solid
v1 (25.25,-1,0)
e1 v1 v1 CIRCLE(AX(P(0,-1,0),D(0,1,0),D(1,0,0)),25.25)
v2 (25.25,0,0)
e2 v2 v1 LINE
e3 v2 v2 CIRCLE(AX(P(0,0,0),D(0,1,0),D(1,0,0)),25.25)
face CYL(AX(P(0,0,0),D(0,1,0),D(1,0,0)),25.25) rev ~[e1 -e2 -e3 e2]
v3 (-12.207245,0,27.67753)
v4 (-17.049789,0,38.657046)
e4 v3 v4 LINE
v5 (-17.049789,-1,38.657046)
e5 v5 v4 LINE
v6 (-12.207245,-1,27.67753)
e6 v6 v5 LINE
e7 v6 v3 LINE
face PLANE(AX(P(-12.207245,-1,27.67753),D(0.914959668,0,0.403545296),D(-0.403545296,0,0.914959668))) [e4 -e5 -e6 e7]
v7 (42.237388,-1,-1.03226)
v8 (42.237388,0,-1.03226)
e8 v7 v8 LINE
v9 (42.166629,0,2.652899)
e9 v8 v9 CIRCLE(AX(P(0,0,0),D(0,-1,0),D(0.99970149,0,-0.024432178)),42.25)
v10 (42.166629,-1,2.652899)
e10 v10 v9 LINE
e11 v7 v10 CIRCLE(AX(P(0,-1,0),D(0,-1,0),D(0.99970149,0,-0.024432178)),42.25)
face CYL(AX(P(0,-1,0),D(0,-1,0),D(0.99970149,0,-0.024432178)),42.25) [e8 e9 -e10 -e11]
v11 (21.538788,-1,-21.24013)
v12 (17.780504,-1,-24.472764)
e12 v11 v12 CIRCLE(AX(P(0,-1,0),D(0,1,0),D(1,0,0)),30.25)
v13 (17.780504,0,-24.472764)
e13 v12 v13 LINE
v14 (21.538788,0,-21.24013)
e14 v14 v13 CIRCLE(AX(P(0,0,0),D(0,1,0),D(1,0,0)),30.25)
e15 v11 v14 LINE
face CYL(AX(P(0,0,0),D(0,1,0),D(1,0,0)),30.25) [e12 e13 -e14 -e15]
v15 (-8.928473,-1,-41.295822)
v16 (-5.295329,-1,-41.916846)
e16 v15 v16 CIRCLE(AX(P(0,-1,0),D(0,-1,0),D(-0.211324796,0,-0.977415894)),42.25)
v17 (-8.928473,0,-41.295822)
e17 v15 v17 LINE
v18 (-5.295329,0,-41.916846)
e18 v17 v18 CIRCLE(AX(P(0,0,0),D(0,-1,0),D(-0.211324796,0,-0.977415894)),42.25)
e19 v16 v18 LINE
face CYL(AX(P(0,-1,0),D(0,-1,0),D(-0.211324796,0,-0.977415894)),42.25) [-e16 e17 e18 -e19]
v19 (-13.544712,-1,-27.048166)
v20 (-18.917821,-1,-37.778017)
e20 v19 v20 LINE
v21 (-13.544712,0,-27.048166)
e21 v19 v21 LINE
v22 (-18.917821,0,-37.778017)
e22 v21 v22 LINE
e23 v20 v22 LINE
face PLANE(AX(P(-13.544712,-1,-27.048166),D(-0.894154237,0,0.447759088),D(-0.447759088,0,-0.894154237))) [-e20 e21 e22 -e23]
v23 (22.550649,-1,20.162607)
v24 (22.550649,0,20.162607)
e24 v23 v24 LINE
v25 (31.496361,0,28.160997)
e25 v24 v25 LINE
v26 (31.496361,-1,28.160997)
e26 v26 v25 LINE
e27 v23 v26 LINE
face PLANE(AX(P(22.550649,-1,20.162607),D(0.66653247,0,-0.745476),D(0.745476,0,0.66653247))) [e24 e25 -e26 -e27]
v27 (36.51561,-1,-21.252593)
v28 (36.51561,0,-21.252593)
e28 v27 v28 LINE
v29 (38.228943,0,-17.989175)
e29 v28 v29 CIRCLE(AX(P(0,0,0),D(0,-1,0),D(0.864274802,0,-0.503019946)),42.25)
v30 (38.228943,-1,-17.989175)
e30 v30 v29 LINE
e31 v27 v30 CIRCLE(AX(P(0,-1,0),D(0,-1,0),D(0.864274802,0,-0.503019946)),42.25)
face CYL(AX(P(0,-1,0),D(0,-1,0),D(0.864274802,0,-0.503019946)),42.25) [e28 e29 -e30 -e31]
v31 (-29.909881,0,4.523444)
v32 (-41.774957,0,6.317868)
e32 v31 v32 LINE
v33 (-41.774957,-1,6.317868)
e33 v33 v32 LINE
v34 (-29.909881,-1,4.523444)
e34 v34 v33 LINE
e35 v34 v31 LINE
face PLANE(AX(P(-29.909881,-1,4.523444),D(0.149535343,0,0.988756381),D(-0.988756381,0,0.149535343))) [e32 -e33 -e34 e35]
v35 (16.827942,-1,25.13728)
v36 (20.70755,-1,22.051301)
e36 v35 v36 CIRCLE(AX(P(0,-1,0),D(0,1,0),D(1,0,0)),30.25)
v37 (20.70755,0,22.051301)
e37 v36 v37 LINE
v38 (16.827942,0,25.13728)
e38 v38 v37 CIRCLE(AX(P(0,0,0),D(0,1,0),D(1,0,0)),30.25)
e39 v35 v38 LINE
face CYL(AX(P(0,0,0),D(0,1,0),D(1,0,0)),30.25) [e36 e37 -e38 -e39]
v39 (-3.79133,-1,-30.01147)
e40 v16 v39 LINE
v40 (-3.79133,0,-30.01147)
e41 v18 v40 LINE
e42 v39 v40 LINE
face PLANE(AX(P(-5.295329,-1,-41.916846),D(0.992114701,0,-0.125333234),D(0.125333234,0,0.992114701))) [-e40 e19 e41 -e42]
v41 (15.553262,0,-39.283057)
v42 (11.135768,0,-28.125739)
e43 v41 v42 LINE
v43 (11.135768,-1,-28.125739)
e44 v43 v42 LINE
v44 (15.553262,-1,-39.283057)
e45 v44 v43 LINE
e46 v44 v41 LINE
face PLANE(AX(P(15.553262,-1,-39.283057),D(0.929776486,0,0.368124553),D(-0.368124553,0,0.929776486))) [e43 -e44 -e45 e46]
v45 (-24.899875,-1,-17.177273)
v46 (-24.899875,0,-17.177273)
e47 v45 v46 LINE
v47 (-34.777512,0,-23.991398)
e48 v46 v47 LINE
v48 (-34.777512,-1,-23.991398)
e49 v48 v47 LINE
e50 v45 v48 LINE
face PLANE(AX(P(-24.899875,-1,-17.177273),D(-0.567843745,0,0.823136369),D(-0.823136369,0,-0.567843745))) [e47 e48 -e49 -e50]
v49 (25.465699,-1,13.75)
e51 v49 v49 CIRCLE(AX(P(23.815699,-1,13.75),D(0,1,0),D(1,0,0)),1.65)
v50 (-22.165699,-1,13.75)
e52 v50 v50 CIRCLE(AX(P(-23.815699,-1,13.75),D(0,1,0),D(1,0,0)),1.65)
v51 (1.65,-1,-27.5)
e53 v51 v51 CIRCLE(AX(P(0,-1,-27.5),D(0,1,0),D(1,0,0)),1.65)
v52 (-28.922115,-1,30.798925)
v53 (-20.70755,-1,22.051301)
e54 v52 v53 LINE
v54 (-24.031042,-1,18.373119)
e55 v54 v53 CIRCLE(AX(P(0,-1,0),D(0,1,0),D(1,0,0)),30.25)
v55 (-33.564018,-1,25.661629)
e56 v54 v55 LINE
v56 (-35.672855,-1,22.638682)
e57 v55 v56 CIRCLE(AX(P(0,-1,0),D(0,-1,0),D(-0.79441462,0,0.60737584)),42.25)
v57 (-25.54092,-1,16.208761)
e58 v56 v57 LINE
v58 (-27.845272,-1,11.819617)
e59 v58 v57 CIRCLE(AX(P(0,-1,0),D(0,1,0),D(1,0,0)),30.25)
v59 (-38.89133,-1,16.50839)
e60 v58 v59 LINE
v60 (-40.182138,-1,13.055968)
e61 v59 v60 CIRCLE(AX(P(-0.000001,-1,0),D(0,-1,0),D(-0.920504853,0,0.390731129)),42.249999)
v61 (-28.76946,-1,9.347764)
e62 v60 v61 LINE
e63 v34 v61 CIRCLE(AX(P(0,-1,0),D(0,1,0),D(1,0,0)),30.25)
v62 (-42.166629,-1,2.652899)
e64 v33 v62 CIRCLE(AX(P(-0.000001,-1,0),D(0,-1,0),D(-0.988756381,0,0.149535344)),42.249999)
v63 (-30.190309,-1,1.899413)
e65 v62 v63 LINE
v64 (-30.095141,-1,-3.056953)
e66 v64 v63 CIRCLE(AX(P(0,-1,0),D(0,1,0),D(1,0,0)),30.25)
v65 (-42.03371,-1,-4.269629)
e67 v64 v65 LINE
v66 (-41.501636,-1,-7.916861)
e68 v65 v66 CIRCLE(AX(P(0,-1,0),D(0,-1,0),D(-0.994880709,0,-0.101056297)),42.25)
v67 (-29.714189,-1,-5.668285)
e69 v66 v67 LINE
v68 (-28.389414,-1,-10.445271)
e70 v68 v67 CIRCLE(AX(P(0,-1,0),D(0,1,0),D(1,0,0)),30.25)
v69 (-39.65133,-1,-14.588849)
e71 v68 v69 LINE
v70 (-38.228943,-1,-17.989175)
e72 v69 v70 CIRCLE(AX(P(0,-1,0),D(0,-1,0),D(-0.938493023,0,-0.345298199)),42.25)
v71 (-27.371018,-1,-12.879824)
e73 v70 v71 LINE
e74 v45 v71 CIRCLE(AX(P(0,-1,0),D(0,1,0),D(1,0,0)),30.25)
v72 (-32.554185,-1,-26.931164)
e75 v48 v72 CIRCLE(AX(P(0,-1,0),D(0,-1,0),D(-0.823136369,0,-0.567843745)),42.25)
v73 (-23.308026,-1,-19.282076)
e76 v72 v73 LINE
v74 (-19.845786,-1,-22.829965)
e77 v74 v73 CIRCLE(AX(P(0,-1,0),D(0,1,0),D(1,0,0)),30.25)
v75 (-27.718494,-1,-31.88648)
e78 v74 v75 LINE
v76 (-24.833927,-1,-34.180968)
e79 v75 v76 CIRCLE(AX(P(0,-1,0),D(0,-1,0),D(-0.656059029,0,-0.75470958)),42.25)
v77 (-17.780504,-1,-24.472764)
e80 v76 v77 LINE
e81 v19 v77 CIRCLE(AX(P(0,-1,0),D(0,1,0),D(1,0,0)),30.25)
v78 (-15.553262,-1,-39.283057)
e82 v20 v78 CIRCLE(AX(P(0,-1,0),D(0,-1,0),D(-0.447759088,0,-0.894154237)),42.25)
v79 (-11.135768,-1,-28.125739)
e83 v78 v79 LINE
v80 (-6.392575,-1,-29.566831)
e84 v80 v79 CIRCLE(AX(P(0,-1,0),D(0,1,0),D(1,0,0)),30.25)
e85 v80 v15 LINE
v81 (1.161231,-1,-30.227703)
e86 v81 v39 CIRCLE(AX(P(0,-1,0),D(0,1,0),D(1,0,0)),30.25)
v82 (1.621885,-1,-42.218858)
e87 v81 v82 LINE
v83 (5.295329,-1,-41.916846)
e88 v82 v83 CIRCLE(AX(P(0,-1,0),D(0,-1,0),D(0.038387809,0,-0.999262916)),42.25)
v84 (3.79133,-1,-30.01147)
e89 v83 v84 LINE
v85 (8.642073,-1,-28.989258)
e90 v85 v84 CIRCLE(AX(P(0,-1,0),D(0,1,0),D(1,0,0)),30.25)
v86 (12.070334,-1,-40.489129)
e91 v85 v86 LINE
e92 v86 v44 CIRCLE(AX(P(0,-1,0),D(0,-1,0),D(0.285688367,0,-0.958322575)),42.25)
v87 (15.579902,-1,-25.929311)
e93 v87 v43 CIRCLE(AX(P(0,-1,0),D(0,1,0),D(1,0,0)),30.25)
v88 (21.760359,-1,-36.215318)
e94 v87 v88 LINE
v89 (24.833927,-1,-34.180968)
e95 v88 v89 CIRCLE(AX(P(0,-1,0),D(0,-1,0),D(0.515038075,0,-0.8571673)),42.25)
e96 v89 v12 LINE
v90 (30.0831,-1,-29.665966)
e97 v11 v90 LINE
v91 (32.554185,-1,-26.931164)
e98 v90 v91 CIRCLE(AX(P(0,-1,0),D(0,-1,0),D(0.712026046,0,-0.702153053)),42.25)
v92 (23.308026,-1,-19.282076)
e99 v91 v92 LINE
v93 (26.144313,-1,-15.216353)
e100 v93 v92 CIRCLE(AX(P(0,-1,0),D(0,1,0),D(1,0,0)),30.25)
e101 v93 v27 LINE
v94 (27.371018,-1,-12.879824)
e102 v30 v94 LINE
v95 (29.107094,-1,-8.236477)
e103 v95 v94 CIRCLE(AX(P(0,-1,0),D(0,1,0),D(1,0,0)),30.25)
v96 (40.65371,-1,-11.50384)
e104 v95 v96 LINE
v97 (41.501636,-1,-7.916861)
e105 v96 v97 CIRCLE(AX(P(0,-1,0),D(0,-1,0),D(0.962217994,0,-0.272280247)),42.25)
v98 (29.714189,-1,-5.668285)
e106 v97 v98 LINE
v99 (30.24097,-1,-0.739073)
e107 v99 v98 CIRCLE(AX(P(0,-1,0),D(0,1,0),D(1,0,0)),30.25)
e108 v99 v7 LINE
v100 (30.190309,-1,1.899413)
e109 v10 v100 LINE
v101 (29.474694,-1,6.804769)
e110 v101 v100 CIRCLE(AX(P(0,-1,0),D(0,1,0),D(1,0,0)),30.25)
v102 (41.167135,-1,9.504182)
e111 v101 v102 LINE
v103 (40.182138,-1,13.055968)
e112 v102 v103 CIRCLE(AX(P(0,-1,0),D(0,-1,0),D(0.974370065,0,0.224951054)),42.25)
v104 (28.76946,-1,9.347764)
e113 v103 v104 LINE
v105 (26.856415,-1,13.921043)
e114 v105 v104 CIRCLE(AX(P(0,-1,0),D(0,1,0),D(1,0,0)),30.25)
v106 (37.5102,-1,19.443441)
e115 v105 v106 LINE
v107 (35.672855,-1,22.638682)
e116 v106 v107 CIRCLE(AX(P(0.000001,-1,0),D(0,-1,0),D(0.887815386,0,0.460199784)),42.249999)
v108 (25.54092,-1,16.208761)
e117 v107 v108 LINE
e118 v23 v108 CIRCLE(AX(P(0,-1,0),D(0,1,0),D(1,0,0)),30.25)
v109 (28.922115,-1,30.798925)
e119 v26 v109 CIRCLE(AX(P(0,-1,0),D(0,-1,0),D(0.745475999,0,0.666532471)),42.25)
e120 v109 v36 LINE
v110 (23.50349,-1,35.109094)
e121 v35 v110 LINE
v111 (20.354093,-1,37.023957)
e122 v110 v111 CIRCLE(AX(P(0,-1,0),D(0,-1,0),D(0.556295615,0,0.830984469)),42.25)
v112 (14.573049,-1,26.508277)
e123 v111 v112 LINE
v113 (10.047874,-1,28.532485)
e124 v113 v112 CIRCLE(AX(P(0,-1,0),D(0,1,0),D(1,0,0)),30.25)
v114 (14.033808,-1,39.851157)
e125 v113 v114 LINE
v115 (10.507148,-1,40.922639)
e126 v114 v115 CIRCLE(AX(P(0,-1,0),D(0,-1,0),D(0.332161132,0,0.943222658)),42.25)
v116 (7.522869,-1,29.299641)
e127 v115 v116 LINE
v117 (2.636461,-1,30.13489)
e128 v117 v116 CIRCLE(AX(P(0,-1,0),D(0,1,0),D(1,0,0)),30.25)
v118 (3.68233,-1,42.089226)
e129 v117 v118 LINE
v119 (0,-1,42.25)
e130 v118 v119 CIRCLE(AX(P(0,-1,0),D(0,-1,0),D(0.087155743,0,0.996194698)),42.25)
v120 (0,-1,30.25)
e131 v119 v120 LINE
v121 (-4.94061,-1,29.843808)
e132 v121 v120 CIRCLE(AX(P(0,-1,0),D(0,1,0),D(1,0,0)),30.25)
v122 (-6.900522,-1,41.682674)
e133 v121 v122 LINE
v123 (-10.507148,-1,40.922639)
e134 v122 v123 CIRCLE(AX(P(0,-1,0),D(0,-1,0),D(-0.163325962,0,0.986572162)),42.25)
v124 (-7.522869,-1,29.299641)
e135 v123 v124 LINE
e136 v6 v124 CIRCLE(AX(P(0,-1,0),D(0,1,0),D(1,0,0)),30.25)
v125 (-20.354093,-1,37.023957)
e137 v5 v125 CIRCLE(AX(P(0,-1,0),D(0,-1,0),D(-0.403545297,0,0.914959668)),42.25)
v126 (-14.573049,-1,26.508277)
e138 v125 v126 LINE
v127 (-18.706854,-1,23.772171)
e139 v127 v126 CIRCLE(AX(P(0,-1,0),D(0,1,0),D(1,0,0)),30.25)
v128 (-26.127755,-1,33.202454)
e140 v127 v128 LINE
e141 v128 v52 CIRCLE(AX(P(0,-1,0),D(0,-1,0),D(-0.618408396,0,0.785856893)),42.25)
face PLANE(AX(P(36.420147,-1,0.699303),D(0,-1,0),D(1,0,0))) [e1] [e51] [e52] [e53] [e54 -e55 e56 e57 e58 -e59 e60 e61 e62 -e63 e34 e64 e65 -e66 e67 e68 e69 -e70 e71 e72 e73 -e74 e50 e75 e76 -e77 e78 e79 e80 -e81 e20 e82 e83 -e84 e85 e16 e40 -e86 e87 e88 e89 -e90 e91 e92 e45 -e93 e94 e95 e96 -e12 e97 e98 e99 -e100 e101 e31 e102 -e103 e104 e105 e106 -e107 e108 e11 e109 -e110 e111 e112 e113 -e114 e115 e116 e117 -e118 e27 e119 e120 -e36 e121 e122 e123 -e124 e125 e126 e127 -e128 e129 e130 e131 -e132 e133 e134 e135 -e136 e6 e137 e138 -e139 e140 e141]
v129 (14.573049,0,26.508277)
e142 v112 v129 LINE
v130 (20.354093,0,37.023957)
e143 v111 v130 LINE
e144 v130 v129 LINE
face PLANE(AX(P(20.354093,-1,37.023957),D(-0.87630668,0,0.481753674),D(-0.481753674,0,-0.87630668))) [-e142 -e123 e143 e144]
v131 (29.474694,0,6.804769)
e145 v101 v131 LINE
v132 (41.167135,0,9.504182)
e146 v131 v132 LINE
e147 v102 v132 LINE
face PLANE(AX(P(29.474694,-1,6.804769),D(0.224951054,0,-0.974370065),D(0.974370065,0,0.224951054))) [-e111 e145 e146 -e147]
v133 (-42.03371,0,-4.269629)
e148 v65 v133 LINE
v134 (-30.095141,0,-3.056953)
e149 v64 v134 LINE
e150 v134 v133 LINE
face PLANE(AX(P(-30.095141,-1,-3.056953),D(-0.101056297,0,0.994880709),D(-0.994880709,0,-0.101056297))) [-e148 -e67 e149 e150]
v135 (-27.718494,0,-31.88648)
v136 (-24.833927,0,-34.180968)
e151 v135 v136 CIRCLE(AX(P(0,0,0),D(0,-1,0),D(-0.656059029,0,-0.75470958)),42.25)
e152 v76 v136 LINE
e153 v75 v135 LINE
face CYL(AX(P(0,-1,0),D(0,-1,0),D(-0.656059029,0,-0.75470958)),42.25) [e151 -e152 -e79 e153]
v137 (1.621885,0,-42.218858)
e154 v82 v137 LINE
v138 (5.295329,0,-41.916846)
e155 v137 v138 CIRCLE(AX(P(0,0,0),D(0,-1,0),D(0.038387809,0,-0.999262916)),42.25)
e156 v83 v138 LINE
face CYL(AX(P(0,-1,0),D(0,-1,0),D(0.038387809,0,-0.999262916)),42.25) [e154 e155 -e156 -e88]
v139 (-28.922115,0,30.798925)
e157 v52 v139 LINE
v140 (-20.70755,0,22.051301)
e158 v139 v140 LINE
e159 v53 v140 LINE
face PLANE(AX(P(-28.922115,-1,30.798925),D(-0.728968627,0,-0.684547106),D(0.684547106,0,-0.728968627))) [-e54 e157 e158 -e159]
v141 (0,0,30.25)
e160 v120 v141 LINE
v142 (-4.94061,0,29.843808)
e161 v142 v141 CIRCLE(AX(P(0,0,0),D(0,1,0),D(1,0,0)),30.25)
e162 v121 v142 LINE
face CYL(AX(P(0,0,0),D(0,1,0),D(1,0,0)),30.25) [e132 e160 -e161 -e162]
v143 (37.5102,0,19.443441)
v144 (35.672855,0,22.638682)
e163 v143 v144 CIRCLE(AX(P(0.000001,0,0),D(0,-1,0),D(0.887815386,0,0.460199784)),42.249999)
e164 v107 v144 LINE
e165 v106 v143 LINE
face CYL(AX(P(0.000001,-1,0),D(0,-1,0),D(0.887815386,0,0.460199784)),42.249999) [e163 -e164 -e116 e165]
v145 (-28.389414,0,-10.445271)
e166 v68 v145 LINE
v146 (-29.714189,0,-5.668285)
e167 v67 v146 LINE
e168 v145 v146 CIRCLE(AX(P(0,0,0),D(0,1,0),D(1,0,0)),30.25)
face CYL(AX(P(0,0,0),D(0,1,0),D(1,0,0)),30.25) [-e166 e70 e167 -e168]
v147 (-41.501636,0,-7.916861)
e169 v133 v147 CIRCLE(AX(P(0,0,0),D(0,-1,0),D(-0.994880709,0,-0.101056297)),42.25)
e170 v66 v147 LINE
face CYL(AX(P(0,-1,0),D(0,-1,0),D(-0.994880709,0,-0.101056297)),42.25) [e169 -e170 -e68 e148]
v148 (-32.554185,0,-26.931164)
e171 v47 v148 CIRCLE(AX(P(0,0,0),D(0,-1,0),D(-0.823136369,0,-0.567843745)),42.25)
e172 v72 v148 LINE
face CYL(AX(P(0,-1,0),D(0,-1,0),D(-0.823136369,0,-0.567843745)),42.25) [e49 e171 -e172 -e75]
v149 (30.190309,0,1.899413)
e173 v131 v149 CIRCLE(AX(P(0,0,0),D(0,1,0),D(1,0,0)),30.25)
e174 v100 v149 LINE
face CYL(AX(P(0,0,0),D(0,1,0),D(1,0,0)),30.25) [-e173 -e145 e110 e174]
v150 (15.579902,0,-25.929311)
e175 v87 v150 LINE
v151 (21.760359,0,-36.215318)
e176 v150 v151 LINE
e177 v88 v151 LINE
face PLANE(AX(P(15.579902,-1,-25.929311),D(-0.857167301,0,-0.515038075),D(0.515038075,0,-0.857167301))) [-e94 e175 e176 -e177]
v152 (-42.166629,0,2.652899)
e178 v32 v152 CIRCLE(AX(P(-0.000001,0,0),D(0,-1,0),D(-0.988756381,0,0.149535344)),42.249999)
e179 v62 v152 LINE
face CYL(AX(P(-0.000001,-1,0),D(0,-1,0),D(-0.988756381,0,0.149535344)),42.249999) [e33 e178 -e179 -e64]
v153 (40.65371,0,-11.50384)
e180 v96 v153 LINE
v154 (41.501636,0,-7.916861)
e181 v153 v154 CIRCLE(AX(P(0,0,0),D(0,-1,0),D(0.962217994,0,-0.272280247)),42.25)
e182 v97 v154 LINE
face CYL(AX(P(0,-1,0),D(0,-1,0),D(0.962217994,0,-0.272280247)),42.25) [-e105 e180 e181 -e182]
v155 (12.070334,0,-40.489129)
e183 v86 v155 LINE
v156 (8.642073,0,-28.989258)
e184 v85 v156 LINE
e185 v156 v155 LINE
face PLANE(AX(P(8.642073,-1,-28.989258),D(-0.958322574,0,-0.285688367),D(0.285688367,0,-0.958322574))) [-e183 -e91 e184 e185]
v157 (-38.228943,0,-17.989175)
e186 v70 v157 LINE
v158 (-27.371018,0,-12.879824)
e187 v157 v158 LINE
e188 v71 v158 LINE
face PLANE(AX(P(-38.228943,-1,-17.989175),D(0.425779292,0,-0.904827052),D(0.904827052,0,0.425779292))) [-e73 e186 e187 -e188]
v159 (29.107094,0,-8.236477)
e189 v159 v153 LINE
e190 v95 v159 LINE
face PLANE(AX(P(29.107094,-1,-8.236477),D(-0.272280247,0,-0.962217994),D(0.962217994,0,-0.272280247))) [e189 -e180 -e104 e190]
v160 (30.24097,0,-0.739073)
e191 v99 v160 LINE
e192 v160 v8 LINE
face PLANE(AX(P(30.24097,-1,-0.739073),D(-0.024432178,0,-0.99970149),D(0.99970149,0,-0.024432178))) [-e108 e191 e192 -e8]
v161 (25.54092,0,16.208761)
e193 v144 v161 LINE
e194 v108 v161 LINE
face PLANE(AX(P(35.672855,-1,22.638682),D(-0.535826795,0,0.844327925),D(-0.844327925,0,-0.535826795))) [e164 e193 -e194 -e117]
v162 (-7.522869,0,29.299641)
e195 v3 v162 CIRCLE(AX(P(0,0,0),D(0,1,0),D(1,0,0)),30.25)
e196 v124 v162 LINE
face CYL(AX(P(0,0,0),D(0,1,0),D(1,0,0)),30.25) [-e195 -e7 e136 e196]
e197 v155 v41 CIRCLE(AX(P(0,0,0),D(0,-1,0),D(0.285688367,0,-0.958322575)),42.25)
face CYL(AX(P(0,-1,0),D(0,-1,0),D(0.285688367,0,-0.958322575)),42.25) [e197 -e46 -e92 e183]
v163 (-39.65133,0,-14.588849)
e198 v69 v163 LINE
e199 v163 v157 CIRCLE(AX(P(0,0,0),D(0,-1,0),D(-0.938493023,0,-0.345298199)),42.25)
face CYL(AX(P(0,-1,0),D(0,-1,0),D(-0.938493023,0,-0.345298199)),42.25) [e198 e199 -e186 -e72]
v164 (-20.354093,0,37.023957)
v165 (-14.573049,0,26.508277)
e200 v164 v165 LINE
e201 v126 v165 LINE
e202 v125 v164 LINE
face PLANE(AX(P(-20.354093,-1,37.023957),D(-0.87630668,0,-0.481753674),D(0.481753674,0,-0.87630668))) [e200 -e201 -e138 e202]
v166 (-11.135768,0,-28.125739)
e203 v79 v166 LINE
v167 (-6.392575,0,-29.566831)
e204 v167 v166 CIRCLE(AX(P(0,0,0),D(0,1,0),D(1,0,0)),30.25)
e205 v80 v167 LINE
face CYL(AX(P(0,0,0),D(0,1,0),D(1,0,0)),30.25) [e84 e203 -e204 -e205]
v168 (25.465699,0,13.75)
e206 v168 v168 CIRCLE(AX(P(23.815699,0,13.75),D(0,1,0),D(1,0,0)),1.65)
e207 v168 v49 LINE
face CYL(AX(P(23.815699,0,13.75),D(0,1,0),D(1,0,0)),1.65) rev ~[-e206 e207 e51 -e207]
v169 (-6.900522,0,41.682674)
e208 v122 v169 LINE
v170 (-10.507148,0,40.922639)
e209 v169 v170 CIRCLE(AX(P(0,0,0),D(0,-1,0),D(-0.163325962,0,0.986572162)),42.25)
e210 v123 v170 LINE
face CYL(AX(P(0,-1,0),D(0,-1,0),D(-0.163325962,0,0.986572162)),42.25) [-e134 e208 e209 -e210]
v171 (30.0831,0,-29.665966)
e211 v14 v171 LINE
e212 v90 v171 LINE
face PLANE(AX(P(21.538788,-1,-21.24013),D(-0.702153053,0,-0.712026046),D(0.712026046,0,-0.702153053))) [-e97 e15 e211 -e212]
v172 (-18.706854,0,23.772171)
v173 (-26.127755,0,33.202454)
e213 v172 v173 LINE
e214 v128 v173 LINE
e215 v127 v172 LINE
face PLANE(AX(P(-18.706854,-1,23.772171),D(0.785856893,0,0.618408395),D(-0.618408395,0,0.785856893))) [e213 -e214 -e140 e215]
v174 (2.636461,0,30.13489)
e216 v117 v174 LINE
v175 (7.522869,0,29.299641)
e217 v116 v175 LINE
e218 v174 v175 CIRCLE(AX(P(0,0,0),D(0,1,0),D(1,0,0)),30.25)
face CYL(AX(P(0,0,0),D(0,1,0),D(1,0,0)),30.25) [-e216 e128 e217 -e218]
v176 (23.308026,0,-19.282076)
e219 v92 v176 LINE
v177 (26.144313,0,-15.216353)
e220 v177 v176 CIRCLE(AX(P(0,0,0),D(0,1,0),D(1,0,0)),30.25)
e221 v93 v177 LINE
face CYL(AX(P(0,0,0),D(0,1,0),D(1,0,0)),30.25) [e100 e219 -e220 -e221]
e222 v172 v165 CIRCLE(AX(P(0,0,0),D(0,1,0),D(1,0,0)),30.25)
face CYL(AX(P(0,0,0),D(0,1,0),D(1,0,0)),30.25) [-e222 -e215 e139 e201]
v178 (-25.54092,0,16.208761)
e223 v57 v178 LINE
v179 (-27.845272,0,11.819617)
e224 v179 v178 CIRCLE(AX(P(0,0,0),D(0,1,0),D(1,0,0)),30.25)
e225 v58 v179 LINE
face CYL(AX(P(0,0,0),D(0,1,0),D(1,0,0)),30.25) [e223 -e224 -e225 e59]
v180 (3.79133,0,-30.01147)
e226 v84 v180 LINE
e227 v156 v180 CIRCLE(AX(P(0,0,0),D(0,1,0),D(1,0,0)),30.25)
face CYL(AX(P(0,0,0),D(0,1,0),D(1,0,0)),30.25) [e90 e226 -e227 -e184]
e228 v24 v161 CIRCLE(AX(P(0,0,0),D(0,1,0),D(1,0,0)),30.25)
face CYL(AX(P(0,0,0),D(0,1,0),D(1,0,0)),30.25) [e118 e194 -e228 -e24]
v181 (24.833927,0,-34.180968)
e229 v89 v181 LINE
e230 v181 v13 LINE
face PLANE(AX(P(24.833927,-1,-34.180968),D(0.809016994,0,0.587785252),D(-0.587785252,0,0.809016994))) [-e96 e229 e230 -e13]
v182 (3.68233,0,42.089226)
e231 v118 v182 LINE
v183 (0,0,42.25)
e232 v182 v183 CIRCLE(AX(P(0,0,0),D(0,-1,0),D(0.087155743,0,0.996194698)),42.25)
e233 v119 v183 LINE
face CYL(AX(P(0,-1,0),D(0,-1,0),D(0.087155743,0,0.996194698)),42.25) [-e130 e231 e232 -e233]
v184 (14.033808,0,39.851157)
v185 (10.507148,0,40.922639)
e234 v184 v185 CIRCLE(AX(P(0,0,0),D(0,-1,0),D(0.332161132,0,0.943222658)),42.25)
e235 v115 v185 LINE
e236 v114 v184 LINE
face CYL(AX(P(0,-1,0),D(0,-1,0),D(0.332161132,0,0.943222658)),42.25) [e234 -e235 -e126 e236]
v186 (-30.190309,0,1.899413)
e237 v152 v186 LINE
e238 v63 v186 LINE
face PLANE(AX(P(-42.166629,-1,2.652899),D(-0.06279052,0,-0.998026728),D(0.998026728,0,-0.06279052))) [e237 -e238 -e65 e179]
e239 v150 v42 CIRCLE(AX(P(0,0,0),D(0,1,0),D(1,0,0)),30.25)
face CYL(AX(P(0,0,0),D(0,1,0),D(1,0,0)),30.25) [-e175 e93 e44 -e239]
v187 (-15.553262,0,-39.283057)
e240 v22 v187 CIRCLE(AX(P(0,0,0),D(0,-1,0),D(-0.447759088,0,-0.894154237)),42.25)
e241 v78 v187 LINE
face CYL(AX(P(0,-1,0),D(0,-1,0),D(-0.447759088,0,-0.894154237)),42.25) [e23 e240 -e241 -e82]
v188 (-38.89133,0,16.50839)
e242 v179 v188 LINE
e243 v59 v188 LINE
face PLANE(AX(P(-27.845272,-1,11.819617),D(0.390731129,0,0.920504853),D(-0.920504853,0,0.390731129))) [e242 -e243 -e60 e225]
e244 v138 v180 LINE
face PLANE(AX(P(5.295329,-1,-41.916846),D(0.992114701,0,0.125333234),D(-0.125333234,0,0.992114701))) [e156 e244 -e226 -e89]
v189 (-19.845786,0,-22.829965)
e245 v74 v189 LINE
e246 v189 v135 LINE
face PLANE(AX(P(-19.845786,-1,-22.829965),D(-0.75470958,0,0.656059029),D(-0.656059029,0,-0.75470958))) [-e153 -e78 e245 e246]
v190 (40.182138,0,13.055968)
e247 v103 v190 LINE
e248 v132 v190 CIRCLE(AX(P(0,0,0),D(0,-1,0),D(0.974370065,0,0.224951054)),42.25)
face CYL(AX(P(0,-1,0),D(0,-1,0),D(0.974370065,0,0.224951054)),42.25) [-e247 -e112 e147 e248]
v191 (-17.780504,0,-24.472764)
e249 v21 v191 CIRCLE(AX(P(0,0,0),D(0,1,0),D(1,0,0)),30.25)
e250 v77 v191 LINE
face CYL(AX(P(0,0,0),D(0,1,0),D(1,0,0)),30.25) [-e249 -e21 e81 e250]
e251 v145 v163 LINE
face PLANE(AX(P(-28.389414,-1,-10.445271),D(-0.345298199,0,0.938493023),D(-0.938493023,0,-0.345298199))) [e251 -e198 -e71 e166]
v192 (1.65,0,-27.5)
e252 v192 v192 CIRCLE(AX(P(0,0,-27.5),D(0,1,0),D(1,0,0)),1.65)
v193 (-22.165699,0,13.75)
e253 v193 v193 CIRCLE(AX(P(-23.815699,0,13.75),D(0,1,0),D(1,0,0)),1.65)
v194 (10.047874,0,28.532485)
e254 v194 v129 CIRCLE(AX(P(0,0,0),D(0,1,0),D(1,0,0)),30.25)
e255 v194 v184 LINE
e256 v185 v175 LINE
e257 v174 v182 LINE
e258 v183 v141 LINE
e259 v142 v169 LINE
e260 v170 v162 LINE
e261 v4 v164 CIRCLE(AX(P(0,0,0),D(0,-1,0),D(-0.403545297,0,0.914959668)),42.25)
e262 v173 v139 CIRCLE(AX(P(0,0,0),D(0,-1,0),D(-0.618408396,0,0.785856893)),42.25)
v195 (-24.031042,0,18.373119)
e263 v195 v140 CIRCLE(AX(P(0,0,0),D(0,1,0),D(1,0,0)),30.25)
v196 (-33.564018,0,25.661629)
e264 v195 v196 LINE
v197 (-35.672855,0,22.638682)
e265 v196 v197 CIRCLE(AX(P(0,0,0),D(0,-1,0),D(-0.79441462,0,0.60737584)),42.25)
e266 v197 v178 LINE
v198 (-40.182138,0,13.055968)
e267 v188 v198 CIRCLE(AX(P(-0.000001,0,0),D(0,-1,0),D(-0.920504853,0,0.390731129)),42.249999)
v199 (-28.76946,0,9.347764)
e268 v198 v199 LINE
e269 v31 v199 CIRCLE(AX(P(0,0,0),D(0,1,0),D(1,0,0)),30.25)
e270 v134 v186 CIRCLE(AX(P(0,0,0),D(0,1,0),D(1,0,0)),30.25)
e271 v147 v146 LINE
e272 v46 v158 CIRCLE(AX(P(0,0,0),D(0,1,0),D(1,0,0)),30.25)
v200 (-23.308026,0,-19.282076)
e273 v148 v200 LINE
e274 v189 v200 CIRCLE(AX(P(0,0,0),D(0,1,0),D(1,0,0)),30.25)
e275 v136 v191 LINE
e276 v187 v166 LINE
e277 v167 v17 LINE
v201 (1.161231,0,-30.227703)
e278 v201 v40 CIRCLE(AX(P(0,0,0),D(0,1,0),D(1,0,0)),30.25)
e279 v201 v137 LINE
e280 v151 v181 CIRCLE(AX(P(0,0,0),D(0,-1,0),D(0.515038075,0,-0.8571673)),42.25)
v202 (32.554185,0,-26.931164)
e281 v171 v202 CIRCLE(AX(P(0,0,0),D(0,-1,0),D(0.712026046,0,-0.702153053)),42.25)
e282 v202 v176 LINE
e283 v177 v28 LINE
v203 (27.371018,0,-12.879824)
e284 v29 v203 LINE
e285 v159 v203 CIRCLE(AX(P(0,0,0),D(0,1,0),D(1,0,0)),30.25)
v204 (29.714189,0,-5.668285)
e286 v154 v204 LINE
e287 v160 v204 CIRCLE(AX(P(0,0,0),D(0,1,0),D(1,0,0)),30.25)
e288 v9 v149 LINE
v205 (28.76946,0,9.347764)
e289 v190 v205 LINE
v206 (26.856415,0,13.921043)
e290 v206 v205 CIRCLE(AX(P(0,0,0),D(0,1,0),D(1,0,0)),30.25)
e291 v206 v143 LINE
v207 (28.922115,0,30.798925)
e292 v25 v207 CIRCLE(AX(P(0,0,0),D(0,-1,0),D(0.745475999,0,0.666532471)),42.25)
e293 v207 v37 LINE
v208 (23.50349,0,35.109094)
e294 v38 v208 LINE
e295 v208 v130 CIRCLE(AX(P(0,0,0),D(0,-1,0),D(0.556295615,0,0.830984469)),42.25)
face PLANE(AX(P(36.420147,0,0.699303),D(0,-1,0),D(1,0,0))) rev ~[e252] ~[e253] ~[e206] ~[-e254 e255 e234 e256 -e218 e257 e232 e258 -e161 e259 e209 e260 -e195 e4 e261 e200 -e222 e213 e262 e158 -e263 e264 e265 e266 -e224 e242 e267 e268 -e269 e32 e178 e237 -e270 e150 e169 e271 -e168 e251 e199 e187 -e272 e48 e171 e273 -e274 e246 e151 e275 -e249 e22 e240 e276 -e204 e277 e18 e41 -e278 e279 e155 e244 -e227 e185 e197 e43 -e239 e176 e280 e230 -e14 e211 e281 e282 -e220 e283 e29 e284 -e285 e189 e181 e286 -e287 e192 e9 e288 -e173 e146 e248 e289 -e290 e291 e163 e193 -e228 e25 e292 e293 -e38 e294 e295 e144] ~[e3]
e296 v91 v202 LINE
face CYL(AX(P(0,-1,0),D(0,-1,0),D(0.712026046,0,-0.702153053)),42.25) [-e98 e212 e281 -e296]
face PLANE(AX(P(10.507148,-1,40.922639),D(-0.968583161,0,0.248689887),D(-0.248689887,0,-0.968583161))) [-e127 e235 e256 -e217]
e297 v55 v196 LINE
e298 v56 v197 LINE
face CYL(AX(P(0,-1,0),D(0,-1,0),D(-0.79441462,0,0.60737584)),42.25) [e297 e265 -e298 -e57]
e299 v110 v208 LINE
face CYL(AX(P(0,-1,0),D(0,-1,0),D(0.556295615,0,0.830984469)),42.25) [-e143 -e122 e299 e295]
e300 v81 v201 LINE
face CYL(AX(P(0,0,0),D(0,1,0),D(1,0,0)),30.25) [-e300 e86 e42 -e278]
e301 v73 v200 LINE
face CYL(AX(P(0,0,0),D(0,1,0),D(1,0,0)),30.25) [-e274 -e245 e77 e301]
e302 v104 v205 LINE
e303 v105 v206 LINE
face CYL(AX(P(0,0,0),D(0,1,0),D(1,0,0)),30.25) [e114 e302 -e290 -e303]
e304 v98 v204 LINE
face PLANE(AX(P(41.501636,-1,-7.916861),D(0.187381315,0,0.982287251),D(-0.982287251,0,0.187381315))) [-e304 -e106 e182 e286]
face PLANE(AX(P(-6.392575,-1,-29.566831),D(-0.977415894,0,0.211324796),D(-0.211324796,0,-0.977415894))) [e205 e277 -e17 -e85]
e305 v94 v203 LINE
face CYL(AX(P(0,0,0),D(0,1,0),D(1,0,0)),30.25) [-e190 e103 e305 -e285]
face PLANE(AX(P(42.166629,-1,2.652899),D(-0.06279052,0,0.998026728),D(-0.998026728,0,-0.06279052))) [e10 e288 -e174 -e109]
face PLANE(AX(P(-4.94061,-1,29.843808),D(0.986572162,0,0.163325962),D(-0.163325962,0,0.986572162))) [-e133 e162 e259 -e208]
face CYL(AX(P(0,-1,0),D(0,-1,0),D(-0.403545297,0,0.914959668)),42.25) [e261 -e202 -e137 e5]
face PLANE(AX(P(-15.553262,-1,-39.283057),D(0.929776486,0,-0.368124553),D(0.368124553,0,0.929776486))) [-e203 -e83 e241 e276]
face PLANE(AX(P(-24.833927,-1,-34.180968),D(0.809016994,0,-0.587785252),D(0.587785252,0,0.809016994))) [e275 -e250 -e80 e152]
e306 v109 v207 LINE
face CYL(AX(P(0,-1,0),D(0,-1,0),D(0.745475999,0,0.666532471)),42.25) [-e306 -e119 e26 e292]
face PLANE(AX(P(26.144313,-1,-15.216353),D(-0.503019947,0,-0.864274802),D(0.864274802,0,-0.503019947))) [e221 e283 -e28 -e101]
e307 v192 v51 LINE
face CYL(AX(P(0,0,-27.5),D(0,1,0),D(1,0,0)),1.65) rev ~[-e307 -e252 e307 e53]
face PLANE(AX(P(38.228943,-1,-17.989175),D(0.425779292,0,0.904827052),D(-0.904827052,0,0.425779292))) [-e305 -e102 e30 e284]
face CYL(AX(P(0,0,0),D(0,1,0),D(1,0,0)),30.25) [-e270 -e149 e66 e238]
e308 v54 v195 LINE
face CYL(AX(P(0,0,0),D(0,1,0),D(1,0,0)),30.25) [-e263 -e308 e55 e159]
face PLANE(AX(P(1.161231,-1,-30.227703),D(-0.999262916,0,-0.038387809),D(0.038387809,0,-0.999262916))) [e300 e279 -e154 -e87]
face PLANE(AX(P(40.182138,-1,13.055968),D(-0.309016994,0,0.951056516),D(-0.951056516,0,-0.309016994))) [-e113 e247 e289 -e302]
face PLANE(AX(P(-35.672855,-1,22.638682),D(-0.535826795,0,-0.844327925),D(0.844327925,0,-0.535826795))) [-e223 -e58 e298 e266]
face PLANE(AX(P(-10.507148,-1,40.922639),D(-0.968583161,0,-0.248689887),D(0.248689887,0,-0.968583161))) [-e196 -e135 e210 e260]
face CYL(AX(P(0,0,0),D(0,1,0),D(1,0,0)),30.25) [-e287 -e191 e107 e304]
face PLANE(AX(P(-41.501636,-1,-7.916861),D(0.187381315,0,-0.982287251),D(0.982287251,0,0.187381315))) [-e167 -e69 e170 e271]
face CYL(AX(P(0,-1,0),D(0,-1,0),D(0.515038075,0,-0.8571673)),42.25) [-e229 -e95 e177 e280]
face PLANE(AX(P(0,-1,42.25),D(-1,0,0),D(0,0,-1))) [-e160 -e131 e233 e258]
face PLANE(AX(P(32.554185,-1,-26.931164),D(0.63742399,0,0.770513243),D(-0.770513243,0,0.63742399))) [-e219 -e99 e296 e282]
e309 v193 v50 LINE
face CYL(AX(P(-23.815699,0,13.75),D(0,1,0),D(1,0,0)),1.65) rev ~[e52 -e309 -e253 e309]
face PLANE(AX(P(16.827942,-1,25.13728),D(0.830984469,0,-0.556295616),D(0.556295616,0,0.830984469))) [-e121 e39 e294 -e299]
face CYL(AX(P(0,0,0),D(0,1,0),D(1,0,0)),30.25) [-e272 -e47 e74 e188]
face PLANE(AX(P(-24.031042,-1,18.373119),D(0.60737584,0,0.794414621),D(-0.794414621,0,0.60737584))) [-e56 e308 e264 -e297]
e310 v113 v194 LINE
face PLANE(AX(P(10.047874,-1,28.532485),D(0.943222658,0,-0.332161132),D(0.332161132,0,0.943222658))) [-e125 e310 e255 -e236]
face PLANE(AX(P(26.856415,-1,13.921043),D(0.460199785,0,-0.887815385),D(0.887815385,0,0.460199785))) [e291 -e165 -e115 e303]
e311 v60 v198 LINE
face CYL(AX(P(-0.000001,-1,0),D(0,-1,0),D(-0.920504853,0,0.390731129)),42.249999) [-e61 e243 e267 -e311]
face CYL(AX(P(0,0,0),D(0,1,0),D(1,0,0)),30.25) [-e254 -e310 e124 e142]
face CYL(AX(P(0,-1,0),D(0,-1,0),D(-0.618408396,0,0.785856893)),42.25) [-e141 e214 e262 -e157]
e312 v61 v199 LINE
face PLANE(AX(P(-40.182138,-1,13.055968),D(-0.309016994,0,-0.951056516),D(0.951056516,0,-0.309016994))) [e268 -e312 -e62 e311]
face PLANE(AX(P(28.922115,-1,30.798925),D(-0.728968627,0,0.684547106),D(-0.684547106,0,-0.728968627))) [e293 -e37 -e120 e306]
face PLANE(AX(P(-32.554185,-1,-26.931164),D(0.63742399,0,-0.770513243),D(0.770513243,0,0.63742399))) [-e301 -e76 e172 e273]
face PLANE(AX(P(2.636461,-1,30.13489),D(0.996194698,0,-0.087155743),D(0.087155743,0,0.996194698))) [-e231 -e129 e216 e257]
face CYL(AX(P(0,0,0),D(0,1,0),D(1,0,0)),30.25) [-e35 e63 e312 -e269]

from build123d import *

# Parameters (mm, degrees)
SKETCH1_R           = 30.25
SKETCH1_R_2         = 25.25
EXTRUDE_THIN1_DEPTH = 1
SKETCH2_R           = 1.65
CUT_EXTRUDE3_DEPTH  = 10
BOSS_EXTRUDE1_DEPTH = 1


with BuildPart() as part:
    # Sketch1 → Extrude-Thin1 (new body)
    with BuildSketch(Plane(origin=(0, 0, 0), x_dir=(1, 0, 0), z_dir=(0, 1, 0))):
        Circle(SKETCH1_R)
        Circle(SKETCH1_R_2, mode=Mode.SUBTRACT)
    extrude(amount=-EXTRUDE_THIN1_DEPTH)

    # Sketch2 → Cut-Extrude3 (cut)
    with BuildSketch(Plane(origin=(0, 0, 0), x_dir=(1, 0, 0), z_dir=(0, 1, 0))):
        with Locations((0, 27.5)):
            Circle(SKETCH2_R)
        with Locations((23.815698604, -13.75)):
            Circle(SKETCH2_R)
        with Locations((-23.815698604, -13.75)):
            Circle(SKETCH2_R)
    extrude(amount=-CUT_EXTRUDE3_DEPTH, mode=Mode.SUBTRACT)

    # Sketch5 → Boss-Extrude1 (add)
    with BuildSketch(Plane.XZ.offset(1)):
        with BuildLine():
            Line((0, 42.25), (0, 30.25))
            ThreePointArc((0, 30.25), (1.319486468, 30.221208703), (2.636461218, 30.134889617))
            Line((2.636461218, 30.134889617), (3.682330131, 42.089225994))
            ThreePointArc((3.682330131, 42.089225994), (1.842919116, 42.209787362), (0, 42.25))
        make_face()
        with BuildLine():
            Line((10.507147733, 40.922638558), (7.522869087, 29.299640624))
            ThreePointArc((7.522869087, 29.299640624), (8.793741356, 28.943610918), (10.047874239, 28.532485403))
            Line((10.047874239, 28.532485403), (14.033807822, 39.851157298))
            ThreePointArc((14.033807822, 39.851157298), (12.28216768, 40.425373926), (10.507147733, 40.922638558))
        make_face()
        with BuildLine():
            Line((20.354092731, 37.023957232), (14.573048642, 26.508277071))
            ThreePointArc((14.573048642, 26.508277071), (15.715453134, 25.847379612), (16.827942369, 25.137280196))
            Line((16.827942369, 25.137280196), (23.503489755, 35.109093827))
            ThreePointArc((23.503489755, 35.109093827), (21.949682477, 36.100885573), (20.354092731, 37.023957232))
        make_face()
        with BuildLine():
            Line((28.922115225, 30.798924509), (20.707549954, 22.051300979))
            ThreePointArc((20.707549954, 22.051300979), (21.649705195, 21.127062384), (22.55064899, 20.162607225))
            Line((22.55064899, 20.162607225), (31.496360987, 28.160996868))
            ThreePointArc((31.496360987, 28.160996868), (30.238017999, 29.508045809), (28.922115225, 30.798924509))
        make_face()
        with BuildLine():
            Line((35.672854852, 22.638682088), (25.540919746, 16.208760548))
            ThreePointArc((25.540919746, 16.208760548), (26.223626655, 15.079254128), (26.8564154, 13.92104349))
            Line((26.8564154, 13.92104349), (37.510200022, 19.443440907))
            ThreePointArc((37.510200022, 19.443440907), (36.626387643, 21.061107005), (35.672854852, 22.638682088))
        make_face()
        with BuildLine():
            Line((40.182137813, 13.055968012), (28.769459618, 9.34776408))
            ThreePointArc((28.769459618, 9.34776408), (29.14982121, 8.083960876), (29.47469446, 6.804769394))
            Line((29.47469446, 6.804769394), (41.167135237, 9.504182046))
            ThreePointArc((41.167135237, 9.504182046), (40.713386648, 11.290821389), (40.182137813, 13.055968012))
        make_face()
        with BuildLine():
            Line((42.166629276, 2.65289945), (30.190308535, 1.899413216))
            ThreePointArc((30.190308535, 1.899413216), (30.244425292, 0.580722633), (30.240970066, -0.739073389))
            Line((30.240970066, -0.739073389), (42.237387943, -1.032259527))
            ThreePointArc((42.237387943, -1.032259527), (42.242213837, 0.811091941), (42.166629276, 2.65289945))
        make_face()
        with BuildLine():
            Line((41.501636343, -7.916860541), (29.714189335, -5.668284766))
            ThreePointArc((29.714189335, -5.668284766), (29.438660902, -6.95900455), (29.107094304, -8.236477473))
            Line((29.107094304, -8.236477473), (40.653710227, -11.503840437))
            ThreePointArc((40.653710227, -11.503840437), (41.116807375, -9.719601396), (41.501636343, -7.916860541))
        make_face()
        with BuildLine():
            Line((38.228942967, -17.989175069), (27.371018337, -12.87982357))
            ThreePointArc((27.371018337, -12.87982357), (26.783157179, -14.061471883), (26.144312759, -15.216353386))
            Line((26.144312759, -15.216353386), (36.515610383, -21.252592745))
            ThreePointArc((36.515610383, -21.252592745), (37.407880688, -19.639576432), (38.228942967, -17.989175069))
        make_face()
        with BuildLine():
            Line((32.554184507, -26.931163567), (23.308025594, -19.28207569))
            ThreePointArc((23.308025594, -19.28207569), (22.44476919, -20.280405224), (21.538787891, -21.240129853))
            Line((21.538787891, -21.240129853), (30.083100443, -29.665966489))
            ThreePointArc((30.083100443, -29.665966489), (31.348479281, -28.325524651), (32.554184507, -26.931163567))
        make_face()
        with BuildLine():
            Line((24.833926909, -34.180968012), (17.780503882, -24.47276408))
            ThreePointArc((17.780503882, -24.47276408), (16.696093806, -25.225046118), (15.579901766, -25.929310846))
            Line((15.579901766, -25.929310846), (21.760358665, -36.215318455))
            ThreePointArc((21.760358665, -36.215318455), (23.319337629, -35.231675982), (24.833926909, -34.180968012))
        make_face()
        with BuildLine():
            Line((15.553262351, -39.283056529), (11.135767719, -28.125738698))
            ThreePointArc((11.135767719, -28.125738698), (9.898341444, -28.584704593), (8.642073114, -28.989257878))
            Line((8.642073114, -28.989257878), (12.070333523, -40.489128771))
            ThreePointArc((12.070333523, -40.489128771), (13.824956232, -39.924091539), (15.553262351, -39.283056529))
        make_face()
        with BuildLine():
            Line((5.295329118, -41.916846131), (3.791330315, -30.011469715))
            ThreePointArc((3.791330315, -30.011469715), (2.478639886, -30.148280951), (1.161231225, -30.227703221))
            Line((1.161231225, -30.227703221), (1.621884934, -42.218858218))
            ThreePointArc((1.621884934, -42.218858218), (3.46190199, -42.107929593), (5.295329118, -41.916846131))
        make_face()
        with BuildLine():
            Line((-5.295329118, -41.916846131), (-3.791330315, -30.011469715))
            ThreePointArc((-3.791330315, -30.011469715), (-5.096803732, -29.81752994), (-6.392575093, -29.566830802))
            Line((-6.392575093, -29.566830802), (-8.92847265, -41.295821534))
            ThreePointArc((-8.92847265, -41.295821534), (-7.118676287, -41.645971569), (-5.295329118, -41.916846131))
        make_face()
        with BuildLine():
            Line((-15.553262351, -39.283056529), (-11.135767719, -28.125738698))
            ThreePointArc((-11.135767719, -28.125738698), (-12.351996427, -27.613233861), (-13.544712407, -27.048165664))
            Line((-13.544712407, -27.048165664), (-18.917821461, -37.778016506))
            ThreePointArc((-18.917821461, -37.778016506), (-17.251961951, -38.567243988), (-15.553262351, -39.283056529))
        make_face()
        with BuildLine():
            Line((-24.833926909, -34.180968012), (-17.780503882, -24.47276408))
            ThreePointArc((-17.780503882, -24.47276408), (-18.831067758, -23.673896745), (-19.845785627, -22.829964802))
            Line((-19.845785627, -22.829964802), (-27.718493975, -31.886479764))
            ThreePointArc((-27.718493975, -31.886479764), (-26.301243398, -33.065194627), (-24.833926909, -34.180968012))
        make_face()
        with BuildLine():
            Line((-32.554184507, -26.931163567), (-23.308025594, -19.28207569))
            ThreePointArc((-23.308025594, -19.28207569), (-24.126913847, -18.247041629), (-24.899875148, -17.177273288))
            Line((-24.899875148, -17.177273288), (-34.777511571, -23.991398228))
            ThreePointArc((-34.777511571, -23.991398228), (-33.697920993, -25.485537482), (-32.554184507, -26.931163567))
        make_face()
        with BuildLine():
            Line((-38.228942967, -17.989175069), (-27.371018337, -12.87982357))
            ThreePointArc((-27.371018337, -12.87982357), (-27.906777206, -11.67365778), (-28.389413938, -10.44527052))
            Line((-28.389413938, -10.44527052), (-39.651330212, -14.588848908))
            ThreePointArc((-39.651330212, -14.588848908), (-38.97723428, -16.304530288), (-38.228942967, -17.989175069))
        make_face()
        with BuildLine():
            Line((-41.501636343, -7.916860541), (-29.714189335, -5.668284766))
            ThreePointArc((-29.714189335, -5.668284766), (-29.933155119, -4.36677508), (-30.095141442, -3.05695299))
            Line((-30.095141442, -3.05695299), (-42.033709948, -4.269628556))
            ThreePointArc((-42.033709948, -4.269628556), (-41.807464588, -6.099049492), (-41.501636343, -7.916860541))
        make_face()
        with BuildLine():
            Line((-42.166629276, 2.65289945), (-30.190308535, 1.899413216))
            ThreePointArc((-30.190308535, 1.899413216), (-30.07872281, 3.214488158), (-29.909880527, 4.523444139))
            Line((-29.909880527, 4.523444139), (-41.774957099, 6.31786826))
            ThreePointArc((-41.774957099, 6.31786826), (-42.01077814, 4.489657014), (-42.166629276, 2.65289945))
        make_face()
        with BuildLine():
            Line((-40.182137813, 13.055968012), (-28.769459618, 9.34776408))
            ThreePointArc((-28.769459618, 9.34776408), (-28.334333725, 10.593773283), (-27.845271817, 11.819616637))
            Line((-27.845271817, 11.819616637), (-38.891330058, 16.508390179))
            ThreePointArc((-38.891330058, 16.508390179), (-39.574399996, 14.796261858), (-40.182137813, 13.055968012))
        make_face()
        with BuildLine():
            Line((-35.672854852, 22.638682088), (-25.540919746, 16.208760548))
            ThreePointArc((-25.540919746, 16.208760548), (-24.809594245, 17.307412672), (-24.031042271, 18.373119152))
            Line((-24.031042271, 18.373119152), (-33.564017718, 25.661629228))
            ThreePointArc((-33.564017718, 25.661629228), (-34.651416756, 24.173163153), (-35.672854852, 22.638682088))
        make_face()
        with BuildLine():
            Line((-28.922115225, 30.798924509), (-20.707549954, 22.051300979))
            ThreePointArc((-20.707549954, 22.051300979), (-19.725976716, 22.93356367), (-18.70685396, 23.772171019))
            Line((-18.70685396, 23.772171019), (-26.127754704, 33.202453737))
            ThreePointArc((-26.127754704, 33.202453737), (-27.551157562, 32.031175704), (-28.922115225, 30.798924509))
        make_face()
        with BuildLine():
            Line((-20.354092731, 37.023957232), (-14.573048642, 26.508277071))
            ThreePointArc((-14.573048642, 26.508277071), (-13.402903522, 27.118714519), (-12.207245215, 27.677529952))
            Line((-12.207245215, 27.677529952), (-17.049788771, 38.657045967))
            ThreePointArc((-17.049788771, 38.657045967), (-18.719757812, 37.876551684), (-20.354092731, 37.023957232))
        make_face()
        with BuildLine():
            Line((-10.507147733, 40.922638558), (-7.522869087, 29.299640624))
            ThreePointArc((-7.522869087, 29.299640624), (-6.237676608, 29.599896799), (-4.940610358, 29.843807889))
            Line((-4.940610358, 29.843807889), (-6.900521905, 41.682673828))
            ThreePointArc((-6.900521905, 41.682673828), (-8.712126833, 41.342004621), (-10.507147733, 40.922638558))
        make_face()
    extrude(amount=-BOSS_EXTRUDE1_DEPTH)


solid = part.part
